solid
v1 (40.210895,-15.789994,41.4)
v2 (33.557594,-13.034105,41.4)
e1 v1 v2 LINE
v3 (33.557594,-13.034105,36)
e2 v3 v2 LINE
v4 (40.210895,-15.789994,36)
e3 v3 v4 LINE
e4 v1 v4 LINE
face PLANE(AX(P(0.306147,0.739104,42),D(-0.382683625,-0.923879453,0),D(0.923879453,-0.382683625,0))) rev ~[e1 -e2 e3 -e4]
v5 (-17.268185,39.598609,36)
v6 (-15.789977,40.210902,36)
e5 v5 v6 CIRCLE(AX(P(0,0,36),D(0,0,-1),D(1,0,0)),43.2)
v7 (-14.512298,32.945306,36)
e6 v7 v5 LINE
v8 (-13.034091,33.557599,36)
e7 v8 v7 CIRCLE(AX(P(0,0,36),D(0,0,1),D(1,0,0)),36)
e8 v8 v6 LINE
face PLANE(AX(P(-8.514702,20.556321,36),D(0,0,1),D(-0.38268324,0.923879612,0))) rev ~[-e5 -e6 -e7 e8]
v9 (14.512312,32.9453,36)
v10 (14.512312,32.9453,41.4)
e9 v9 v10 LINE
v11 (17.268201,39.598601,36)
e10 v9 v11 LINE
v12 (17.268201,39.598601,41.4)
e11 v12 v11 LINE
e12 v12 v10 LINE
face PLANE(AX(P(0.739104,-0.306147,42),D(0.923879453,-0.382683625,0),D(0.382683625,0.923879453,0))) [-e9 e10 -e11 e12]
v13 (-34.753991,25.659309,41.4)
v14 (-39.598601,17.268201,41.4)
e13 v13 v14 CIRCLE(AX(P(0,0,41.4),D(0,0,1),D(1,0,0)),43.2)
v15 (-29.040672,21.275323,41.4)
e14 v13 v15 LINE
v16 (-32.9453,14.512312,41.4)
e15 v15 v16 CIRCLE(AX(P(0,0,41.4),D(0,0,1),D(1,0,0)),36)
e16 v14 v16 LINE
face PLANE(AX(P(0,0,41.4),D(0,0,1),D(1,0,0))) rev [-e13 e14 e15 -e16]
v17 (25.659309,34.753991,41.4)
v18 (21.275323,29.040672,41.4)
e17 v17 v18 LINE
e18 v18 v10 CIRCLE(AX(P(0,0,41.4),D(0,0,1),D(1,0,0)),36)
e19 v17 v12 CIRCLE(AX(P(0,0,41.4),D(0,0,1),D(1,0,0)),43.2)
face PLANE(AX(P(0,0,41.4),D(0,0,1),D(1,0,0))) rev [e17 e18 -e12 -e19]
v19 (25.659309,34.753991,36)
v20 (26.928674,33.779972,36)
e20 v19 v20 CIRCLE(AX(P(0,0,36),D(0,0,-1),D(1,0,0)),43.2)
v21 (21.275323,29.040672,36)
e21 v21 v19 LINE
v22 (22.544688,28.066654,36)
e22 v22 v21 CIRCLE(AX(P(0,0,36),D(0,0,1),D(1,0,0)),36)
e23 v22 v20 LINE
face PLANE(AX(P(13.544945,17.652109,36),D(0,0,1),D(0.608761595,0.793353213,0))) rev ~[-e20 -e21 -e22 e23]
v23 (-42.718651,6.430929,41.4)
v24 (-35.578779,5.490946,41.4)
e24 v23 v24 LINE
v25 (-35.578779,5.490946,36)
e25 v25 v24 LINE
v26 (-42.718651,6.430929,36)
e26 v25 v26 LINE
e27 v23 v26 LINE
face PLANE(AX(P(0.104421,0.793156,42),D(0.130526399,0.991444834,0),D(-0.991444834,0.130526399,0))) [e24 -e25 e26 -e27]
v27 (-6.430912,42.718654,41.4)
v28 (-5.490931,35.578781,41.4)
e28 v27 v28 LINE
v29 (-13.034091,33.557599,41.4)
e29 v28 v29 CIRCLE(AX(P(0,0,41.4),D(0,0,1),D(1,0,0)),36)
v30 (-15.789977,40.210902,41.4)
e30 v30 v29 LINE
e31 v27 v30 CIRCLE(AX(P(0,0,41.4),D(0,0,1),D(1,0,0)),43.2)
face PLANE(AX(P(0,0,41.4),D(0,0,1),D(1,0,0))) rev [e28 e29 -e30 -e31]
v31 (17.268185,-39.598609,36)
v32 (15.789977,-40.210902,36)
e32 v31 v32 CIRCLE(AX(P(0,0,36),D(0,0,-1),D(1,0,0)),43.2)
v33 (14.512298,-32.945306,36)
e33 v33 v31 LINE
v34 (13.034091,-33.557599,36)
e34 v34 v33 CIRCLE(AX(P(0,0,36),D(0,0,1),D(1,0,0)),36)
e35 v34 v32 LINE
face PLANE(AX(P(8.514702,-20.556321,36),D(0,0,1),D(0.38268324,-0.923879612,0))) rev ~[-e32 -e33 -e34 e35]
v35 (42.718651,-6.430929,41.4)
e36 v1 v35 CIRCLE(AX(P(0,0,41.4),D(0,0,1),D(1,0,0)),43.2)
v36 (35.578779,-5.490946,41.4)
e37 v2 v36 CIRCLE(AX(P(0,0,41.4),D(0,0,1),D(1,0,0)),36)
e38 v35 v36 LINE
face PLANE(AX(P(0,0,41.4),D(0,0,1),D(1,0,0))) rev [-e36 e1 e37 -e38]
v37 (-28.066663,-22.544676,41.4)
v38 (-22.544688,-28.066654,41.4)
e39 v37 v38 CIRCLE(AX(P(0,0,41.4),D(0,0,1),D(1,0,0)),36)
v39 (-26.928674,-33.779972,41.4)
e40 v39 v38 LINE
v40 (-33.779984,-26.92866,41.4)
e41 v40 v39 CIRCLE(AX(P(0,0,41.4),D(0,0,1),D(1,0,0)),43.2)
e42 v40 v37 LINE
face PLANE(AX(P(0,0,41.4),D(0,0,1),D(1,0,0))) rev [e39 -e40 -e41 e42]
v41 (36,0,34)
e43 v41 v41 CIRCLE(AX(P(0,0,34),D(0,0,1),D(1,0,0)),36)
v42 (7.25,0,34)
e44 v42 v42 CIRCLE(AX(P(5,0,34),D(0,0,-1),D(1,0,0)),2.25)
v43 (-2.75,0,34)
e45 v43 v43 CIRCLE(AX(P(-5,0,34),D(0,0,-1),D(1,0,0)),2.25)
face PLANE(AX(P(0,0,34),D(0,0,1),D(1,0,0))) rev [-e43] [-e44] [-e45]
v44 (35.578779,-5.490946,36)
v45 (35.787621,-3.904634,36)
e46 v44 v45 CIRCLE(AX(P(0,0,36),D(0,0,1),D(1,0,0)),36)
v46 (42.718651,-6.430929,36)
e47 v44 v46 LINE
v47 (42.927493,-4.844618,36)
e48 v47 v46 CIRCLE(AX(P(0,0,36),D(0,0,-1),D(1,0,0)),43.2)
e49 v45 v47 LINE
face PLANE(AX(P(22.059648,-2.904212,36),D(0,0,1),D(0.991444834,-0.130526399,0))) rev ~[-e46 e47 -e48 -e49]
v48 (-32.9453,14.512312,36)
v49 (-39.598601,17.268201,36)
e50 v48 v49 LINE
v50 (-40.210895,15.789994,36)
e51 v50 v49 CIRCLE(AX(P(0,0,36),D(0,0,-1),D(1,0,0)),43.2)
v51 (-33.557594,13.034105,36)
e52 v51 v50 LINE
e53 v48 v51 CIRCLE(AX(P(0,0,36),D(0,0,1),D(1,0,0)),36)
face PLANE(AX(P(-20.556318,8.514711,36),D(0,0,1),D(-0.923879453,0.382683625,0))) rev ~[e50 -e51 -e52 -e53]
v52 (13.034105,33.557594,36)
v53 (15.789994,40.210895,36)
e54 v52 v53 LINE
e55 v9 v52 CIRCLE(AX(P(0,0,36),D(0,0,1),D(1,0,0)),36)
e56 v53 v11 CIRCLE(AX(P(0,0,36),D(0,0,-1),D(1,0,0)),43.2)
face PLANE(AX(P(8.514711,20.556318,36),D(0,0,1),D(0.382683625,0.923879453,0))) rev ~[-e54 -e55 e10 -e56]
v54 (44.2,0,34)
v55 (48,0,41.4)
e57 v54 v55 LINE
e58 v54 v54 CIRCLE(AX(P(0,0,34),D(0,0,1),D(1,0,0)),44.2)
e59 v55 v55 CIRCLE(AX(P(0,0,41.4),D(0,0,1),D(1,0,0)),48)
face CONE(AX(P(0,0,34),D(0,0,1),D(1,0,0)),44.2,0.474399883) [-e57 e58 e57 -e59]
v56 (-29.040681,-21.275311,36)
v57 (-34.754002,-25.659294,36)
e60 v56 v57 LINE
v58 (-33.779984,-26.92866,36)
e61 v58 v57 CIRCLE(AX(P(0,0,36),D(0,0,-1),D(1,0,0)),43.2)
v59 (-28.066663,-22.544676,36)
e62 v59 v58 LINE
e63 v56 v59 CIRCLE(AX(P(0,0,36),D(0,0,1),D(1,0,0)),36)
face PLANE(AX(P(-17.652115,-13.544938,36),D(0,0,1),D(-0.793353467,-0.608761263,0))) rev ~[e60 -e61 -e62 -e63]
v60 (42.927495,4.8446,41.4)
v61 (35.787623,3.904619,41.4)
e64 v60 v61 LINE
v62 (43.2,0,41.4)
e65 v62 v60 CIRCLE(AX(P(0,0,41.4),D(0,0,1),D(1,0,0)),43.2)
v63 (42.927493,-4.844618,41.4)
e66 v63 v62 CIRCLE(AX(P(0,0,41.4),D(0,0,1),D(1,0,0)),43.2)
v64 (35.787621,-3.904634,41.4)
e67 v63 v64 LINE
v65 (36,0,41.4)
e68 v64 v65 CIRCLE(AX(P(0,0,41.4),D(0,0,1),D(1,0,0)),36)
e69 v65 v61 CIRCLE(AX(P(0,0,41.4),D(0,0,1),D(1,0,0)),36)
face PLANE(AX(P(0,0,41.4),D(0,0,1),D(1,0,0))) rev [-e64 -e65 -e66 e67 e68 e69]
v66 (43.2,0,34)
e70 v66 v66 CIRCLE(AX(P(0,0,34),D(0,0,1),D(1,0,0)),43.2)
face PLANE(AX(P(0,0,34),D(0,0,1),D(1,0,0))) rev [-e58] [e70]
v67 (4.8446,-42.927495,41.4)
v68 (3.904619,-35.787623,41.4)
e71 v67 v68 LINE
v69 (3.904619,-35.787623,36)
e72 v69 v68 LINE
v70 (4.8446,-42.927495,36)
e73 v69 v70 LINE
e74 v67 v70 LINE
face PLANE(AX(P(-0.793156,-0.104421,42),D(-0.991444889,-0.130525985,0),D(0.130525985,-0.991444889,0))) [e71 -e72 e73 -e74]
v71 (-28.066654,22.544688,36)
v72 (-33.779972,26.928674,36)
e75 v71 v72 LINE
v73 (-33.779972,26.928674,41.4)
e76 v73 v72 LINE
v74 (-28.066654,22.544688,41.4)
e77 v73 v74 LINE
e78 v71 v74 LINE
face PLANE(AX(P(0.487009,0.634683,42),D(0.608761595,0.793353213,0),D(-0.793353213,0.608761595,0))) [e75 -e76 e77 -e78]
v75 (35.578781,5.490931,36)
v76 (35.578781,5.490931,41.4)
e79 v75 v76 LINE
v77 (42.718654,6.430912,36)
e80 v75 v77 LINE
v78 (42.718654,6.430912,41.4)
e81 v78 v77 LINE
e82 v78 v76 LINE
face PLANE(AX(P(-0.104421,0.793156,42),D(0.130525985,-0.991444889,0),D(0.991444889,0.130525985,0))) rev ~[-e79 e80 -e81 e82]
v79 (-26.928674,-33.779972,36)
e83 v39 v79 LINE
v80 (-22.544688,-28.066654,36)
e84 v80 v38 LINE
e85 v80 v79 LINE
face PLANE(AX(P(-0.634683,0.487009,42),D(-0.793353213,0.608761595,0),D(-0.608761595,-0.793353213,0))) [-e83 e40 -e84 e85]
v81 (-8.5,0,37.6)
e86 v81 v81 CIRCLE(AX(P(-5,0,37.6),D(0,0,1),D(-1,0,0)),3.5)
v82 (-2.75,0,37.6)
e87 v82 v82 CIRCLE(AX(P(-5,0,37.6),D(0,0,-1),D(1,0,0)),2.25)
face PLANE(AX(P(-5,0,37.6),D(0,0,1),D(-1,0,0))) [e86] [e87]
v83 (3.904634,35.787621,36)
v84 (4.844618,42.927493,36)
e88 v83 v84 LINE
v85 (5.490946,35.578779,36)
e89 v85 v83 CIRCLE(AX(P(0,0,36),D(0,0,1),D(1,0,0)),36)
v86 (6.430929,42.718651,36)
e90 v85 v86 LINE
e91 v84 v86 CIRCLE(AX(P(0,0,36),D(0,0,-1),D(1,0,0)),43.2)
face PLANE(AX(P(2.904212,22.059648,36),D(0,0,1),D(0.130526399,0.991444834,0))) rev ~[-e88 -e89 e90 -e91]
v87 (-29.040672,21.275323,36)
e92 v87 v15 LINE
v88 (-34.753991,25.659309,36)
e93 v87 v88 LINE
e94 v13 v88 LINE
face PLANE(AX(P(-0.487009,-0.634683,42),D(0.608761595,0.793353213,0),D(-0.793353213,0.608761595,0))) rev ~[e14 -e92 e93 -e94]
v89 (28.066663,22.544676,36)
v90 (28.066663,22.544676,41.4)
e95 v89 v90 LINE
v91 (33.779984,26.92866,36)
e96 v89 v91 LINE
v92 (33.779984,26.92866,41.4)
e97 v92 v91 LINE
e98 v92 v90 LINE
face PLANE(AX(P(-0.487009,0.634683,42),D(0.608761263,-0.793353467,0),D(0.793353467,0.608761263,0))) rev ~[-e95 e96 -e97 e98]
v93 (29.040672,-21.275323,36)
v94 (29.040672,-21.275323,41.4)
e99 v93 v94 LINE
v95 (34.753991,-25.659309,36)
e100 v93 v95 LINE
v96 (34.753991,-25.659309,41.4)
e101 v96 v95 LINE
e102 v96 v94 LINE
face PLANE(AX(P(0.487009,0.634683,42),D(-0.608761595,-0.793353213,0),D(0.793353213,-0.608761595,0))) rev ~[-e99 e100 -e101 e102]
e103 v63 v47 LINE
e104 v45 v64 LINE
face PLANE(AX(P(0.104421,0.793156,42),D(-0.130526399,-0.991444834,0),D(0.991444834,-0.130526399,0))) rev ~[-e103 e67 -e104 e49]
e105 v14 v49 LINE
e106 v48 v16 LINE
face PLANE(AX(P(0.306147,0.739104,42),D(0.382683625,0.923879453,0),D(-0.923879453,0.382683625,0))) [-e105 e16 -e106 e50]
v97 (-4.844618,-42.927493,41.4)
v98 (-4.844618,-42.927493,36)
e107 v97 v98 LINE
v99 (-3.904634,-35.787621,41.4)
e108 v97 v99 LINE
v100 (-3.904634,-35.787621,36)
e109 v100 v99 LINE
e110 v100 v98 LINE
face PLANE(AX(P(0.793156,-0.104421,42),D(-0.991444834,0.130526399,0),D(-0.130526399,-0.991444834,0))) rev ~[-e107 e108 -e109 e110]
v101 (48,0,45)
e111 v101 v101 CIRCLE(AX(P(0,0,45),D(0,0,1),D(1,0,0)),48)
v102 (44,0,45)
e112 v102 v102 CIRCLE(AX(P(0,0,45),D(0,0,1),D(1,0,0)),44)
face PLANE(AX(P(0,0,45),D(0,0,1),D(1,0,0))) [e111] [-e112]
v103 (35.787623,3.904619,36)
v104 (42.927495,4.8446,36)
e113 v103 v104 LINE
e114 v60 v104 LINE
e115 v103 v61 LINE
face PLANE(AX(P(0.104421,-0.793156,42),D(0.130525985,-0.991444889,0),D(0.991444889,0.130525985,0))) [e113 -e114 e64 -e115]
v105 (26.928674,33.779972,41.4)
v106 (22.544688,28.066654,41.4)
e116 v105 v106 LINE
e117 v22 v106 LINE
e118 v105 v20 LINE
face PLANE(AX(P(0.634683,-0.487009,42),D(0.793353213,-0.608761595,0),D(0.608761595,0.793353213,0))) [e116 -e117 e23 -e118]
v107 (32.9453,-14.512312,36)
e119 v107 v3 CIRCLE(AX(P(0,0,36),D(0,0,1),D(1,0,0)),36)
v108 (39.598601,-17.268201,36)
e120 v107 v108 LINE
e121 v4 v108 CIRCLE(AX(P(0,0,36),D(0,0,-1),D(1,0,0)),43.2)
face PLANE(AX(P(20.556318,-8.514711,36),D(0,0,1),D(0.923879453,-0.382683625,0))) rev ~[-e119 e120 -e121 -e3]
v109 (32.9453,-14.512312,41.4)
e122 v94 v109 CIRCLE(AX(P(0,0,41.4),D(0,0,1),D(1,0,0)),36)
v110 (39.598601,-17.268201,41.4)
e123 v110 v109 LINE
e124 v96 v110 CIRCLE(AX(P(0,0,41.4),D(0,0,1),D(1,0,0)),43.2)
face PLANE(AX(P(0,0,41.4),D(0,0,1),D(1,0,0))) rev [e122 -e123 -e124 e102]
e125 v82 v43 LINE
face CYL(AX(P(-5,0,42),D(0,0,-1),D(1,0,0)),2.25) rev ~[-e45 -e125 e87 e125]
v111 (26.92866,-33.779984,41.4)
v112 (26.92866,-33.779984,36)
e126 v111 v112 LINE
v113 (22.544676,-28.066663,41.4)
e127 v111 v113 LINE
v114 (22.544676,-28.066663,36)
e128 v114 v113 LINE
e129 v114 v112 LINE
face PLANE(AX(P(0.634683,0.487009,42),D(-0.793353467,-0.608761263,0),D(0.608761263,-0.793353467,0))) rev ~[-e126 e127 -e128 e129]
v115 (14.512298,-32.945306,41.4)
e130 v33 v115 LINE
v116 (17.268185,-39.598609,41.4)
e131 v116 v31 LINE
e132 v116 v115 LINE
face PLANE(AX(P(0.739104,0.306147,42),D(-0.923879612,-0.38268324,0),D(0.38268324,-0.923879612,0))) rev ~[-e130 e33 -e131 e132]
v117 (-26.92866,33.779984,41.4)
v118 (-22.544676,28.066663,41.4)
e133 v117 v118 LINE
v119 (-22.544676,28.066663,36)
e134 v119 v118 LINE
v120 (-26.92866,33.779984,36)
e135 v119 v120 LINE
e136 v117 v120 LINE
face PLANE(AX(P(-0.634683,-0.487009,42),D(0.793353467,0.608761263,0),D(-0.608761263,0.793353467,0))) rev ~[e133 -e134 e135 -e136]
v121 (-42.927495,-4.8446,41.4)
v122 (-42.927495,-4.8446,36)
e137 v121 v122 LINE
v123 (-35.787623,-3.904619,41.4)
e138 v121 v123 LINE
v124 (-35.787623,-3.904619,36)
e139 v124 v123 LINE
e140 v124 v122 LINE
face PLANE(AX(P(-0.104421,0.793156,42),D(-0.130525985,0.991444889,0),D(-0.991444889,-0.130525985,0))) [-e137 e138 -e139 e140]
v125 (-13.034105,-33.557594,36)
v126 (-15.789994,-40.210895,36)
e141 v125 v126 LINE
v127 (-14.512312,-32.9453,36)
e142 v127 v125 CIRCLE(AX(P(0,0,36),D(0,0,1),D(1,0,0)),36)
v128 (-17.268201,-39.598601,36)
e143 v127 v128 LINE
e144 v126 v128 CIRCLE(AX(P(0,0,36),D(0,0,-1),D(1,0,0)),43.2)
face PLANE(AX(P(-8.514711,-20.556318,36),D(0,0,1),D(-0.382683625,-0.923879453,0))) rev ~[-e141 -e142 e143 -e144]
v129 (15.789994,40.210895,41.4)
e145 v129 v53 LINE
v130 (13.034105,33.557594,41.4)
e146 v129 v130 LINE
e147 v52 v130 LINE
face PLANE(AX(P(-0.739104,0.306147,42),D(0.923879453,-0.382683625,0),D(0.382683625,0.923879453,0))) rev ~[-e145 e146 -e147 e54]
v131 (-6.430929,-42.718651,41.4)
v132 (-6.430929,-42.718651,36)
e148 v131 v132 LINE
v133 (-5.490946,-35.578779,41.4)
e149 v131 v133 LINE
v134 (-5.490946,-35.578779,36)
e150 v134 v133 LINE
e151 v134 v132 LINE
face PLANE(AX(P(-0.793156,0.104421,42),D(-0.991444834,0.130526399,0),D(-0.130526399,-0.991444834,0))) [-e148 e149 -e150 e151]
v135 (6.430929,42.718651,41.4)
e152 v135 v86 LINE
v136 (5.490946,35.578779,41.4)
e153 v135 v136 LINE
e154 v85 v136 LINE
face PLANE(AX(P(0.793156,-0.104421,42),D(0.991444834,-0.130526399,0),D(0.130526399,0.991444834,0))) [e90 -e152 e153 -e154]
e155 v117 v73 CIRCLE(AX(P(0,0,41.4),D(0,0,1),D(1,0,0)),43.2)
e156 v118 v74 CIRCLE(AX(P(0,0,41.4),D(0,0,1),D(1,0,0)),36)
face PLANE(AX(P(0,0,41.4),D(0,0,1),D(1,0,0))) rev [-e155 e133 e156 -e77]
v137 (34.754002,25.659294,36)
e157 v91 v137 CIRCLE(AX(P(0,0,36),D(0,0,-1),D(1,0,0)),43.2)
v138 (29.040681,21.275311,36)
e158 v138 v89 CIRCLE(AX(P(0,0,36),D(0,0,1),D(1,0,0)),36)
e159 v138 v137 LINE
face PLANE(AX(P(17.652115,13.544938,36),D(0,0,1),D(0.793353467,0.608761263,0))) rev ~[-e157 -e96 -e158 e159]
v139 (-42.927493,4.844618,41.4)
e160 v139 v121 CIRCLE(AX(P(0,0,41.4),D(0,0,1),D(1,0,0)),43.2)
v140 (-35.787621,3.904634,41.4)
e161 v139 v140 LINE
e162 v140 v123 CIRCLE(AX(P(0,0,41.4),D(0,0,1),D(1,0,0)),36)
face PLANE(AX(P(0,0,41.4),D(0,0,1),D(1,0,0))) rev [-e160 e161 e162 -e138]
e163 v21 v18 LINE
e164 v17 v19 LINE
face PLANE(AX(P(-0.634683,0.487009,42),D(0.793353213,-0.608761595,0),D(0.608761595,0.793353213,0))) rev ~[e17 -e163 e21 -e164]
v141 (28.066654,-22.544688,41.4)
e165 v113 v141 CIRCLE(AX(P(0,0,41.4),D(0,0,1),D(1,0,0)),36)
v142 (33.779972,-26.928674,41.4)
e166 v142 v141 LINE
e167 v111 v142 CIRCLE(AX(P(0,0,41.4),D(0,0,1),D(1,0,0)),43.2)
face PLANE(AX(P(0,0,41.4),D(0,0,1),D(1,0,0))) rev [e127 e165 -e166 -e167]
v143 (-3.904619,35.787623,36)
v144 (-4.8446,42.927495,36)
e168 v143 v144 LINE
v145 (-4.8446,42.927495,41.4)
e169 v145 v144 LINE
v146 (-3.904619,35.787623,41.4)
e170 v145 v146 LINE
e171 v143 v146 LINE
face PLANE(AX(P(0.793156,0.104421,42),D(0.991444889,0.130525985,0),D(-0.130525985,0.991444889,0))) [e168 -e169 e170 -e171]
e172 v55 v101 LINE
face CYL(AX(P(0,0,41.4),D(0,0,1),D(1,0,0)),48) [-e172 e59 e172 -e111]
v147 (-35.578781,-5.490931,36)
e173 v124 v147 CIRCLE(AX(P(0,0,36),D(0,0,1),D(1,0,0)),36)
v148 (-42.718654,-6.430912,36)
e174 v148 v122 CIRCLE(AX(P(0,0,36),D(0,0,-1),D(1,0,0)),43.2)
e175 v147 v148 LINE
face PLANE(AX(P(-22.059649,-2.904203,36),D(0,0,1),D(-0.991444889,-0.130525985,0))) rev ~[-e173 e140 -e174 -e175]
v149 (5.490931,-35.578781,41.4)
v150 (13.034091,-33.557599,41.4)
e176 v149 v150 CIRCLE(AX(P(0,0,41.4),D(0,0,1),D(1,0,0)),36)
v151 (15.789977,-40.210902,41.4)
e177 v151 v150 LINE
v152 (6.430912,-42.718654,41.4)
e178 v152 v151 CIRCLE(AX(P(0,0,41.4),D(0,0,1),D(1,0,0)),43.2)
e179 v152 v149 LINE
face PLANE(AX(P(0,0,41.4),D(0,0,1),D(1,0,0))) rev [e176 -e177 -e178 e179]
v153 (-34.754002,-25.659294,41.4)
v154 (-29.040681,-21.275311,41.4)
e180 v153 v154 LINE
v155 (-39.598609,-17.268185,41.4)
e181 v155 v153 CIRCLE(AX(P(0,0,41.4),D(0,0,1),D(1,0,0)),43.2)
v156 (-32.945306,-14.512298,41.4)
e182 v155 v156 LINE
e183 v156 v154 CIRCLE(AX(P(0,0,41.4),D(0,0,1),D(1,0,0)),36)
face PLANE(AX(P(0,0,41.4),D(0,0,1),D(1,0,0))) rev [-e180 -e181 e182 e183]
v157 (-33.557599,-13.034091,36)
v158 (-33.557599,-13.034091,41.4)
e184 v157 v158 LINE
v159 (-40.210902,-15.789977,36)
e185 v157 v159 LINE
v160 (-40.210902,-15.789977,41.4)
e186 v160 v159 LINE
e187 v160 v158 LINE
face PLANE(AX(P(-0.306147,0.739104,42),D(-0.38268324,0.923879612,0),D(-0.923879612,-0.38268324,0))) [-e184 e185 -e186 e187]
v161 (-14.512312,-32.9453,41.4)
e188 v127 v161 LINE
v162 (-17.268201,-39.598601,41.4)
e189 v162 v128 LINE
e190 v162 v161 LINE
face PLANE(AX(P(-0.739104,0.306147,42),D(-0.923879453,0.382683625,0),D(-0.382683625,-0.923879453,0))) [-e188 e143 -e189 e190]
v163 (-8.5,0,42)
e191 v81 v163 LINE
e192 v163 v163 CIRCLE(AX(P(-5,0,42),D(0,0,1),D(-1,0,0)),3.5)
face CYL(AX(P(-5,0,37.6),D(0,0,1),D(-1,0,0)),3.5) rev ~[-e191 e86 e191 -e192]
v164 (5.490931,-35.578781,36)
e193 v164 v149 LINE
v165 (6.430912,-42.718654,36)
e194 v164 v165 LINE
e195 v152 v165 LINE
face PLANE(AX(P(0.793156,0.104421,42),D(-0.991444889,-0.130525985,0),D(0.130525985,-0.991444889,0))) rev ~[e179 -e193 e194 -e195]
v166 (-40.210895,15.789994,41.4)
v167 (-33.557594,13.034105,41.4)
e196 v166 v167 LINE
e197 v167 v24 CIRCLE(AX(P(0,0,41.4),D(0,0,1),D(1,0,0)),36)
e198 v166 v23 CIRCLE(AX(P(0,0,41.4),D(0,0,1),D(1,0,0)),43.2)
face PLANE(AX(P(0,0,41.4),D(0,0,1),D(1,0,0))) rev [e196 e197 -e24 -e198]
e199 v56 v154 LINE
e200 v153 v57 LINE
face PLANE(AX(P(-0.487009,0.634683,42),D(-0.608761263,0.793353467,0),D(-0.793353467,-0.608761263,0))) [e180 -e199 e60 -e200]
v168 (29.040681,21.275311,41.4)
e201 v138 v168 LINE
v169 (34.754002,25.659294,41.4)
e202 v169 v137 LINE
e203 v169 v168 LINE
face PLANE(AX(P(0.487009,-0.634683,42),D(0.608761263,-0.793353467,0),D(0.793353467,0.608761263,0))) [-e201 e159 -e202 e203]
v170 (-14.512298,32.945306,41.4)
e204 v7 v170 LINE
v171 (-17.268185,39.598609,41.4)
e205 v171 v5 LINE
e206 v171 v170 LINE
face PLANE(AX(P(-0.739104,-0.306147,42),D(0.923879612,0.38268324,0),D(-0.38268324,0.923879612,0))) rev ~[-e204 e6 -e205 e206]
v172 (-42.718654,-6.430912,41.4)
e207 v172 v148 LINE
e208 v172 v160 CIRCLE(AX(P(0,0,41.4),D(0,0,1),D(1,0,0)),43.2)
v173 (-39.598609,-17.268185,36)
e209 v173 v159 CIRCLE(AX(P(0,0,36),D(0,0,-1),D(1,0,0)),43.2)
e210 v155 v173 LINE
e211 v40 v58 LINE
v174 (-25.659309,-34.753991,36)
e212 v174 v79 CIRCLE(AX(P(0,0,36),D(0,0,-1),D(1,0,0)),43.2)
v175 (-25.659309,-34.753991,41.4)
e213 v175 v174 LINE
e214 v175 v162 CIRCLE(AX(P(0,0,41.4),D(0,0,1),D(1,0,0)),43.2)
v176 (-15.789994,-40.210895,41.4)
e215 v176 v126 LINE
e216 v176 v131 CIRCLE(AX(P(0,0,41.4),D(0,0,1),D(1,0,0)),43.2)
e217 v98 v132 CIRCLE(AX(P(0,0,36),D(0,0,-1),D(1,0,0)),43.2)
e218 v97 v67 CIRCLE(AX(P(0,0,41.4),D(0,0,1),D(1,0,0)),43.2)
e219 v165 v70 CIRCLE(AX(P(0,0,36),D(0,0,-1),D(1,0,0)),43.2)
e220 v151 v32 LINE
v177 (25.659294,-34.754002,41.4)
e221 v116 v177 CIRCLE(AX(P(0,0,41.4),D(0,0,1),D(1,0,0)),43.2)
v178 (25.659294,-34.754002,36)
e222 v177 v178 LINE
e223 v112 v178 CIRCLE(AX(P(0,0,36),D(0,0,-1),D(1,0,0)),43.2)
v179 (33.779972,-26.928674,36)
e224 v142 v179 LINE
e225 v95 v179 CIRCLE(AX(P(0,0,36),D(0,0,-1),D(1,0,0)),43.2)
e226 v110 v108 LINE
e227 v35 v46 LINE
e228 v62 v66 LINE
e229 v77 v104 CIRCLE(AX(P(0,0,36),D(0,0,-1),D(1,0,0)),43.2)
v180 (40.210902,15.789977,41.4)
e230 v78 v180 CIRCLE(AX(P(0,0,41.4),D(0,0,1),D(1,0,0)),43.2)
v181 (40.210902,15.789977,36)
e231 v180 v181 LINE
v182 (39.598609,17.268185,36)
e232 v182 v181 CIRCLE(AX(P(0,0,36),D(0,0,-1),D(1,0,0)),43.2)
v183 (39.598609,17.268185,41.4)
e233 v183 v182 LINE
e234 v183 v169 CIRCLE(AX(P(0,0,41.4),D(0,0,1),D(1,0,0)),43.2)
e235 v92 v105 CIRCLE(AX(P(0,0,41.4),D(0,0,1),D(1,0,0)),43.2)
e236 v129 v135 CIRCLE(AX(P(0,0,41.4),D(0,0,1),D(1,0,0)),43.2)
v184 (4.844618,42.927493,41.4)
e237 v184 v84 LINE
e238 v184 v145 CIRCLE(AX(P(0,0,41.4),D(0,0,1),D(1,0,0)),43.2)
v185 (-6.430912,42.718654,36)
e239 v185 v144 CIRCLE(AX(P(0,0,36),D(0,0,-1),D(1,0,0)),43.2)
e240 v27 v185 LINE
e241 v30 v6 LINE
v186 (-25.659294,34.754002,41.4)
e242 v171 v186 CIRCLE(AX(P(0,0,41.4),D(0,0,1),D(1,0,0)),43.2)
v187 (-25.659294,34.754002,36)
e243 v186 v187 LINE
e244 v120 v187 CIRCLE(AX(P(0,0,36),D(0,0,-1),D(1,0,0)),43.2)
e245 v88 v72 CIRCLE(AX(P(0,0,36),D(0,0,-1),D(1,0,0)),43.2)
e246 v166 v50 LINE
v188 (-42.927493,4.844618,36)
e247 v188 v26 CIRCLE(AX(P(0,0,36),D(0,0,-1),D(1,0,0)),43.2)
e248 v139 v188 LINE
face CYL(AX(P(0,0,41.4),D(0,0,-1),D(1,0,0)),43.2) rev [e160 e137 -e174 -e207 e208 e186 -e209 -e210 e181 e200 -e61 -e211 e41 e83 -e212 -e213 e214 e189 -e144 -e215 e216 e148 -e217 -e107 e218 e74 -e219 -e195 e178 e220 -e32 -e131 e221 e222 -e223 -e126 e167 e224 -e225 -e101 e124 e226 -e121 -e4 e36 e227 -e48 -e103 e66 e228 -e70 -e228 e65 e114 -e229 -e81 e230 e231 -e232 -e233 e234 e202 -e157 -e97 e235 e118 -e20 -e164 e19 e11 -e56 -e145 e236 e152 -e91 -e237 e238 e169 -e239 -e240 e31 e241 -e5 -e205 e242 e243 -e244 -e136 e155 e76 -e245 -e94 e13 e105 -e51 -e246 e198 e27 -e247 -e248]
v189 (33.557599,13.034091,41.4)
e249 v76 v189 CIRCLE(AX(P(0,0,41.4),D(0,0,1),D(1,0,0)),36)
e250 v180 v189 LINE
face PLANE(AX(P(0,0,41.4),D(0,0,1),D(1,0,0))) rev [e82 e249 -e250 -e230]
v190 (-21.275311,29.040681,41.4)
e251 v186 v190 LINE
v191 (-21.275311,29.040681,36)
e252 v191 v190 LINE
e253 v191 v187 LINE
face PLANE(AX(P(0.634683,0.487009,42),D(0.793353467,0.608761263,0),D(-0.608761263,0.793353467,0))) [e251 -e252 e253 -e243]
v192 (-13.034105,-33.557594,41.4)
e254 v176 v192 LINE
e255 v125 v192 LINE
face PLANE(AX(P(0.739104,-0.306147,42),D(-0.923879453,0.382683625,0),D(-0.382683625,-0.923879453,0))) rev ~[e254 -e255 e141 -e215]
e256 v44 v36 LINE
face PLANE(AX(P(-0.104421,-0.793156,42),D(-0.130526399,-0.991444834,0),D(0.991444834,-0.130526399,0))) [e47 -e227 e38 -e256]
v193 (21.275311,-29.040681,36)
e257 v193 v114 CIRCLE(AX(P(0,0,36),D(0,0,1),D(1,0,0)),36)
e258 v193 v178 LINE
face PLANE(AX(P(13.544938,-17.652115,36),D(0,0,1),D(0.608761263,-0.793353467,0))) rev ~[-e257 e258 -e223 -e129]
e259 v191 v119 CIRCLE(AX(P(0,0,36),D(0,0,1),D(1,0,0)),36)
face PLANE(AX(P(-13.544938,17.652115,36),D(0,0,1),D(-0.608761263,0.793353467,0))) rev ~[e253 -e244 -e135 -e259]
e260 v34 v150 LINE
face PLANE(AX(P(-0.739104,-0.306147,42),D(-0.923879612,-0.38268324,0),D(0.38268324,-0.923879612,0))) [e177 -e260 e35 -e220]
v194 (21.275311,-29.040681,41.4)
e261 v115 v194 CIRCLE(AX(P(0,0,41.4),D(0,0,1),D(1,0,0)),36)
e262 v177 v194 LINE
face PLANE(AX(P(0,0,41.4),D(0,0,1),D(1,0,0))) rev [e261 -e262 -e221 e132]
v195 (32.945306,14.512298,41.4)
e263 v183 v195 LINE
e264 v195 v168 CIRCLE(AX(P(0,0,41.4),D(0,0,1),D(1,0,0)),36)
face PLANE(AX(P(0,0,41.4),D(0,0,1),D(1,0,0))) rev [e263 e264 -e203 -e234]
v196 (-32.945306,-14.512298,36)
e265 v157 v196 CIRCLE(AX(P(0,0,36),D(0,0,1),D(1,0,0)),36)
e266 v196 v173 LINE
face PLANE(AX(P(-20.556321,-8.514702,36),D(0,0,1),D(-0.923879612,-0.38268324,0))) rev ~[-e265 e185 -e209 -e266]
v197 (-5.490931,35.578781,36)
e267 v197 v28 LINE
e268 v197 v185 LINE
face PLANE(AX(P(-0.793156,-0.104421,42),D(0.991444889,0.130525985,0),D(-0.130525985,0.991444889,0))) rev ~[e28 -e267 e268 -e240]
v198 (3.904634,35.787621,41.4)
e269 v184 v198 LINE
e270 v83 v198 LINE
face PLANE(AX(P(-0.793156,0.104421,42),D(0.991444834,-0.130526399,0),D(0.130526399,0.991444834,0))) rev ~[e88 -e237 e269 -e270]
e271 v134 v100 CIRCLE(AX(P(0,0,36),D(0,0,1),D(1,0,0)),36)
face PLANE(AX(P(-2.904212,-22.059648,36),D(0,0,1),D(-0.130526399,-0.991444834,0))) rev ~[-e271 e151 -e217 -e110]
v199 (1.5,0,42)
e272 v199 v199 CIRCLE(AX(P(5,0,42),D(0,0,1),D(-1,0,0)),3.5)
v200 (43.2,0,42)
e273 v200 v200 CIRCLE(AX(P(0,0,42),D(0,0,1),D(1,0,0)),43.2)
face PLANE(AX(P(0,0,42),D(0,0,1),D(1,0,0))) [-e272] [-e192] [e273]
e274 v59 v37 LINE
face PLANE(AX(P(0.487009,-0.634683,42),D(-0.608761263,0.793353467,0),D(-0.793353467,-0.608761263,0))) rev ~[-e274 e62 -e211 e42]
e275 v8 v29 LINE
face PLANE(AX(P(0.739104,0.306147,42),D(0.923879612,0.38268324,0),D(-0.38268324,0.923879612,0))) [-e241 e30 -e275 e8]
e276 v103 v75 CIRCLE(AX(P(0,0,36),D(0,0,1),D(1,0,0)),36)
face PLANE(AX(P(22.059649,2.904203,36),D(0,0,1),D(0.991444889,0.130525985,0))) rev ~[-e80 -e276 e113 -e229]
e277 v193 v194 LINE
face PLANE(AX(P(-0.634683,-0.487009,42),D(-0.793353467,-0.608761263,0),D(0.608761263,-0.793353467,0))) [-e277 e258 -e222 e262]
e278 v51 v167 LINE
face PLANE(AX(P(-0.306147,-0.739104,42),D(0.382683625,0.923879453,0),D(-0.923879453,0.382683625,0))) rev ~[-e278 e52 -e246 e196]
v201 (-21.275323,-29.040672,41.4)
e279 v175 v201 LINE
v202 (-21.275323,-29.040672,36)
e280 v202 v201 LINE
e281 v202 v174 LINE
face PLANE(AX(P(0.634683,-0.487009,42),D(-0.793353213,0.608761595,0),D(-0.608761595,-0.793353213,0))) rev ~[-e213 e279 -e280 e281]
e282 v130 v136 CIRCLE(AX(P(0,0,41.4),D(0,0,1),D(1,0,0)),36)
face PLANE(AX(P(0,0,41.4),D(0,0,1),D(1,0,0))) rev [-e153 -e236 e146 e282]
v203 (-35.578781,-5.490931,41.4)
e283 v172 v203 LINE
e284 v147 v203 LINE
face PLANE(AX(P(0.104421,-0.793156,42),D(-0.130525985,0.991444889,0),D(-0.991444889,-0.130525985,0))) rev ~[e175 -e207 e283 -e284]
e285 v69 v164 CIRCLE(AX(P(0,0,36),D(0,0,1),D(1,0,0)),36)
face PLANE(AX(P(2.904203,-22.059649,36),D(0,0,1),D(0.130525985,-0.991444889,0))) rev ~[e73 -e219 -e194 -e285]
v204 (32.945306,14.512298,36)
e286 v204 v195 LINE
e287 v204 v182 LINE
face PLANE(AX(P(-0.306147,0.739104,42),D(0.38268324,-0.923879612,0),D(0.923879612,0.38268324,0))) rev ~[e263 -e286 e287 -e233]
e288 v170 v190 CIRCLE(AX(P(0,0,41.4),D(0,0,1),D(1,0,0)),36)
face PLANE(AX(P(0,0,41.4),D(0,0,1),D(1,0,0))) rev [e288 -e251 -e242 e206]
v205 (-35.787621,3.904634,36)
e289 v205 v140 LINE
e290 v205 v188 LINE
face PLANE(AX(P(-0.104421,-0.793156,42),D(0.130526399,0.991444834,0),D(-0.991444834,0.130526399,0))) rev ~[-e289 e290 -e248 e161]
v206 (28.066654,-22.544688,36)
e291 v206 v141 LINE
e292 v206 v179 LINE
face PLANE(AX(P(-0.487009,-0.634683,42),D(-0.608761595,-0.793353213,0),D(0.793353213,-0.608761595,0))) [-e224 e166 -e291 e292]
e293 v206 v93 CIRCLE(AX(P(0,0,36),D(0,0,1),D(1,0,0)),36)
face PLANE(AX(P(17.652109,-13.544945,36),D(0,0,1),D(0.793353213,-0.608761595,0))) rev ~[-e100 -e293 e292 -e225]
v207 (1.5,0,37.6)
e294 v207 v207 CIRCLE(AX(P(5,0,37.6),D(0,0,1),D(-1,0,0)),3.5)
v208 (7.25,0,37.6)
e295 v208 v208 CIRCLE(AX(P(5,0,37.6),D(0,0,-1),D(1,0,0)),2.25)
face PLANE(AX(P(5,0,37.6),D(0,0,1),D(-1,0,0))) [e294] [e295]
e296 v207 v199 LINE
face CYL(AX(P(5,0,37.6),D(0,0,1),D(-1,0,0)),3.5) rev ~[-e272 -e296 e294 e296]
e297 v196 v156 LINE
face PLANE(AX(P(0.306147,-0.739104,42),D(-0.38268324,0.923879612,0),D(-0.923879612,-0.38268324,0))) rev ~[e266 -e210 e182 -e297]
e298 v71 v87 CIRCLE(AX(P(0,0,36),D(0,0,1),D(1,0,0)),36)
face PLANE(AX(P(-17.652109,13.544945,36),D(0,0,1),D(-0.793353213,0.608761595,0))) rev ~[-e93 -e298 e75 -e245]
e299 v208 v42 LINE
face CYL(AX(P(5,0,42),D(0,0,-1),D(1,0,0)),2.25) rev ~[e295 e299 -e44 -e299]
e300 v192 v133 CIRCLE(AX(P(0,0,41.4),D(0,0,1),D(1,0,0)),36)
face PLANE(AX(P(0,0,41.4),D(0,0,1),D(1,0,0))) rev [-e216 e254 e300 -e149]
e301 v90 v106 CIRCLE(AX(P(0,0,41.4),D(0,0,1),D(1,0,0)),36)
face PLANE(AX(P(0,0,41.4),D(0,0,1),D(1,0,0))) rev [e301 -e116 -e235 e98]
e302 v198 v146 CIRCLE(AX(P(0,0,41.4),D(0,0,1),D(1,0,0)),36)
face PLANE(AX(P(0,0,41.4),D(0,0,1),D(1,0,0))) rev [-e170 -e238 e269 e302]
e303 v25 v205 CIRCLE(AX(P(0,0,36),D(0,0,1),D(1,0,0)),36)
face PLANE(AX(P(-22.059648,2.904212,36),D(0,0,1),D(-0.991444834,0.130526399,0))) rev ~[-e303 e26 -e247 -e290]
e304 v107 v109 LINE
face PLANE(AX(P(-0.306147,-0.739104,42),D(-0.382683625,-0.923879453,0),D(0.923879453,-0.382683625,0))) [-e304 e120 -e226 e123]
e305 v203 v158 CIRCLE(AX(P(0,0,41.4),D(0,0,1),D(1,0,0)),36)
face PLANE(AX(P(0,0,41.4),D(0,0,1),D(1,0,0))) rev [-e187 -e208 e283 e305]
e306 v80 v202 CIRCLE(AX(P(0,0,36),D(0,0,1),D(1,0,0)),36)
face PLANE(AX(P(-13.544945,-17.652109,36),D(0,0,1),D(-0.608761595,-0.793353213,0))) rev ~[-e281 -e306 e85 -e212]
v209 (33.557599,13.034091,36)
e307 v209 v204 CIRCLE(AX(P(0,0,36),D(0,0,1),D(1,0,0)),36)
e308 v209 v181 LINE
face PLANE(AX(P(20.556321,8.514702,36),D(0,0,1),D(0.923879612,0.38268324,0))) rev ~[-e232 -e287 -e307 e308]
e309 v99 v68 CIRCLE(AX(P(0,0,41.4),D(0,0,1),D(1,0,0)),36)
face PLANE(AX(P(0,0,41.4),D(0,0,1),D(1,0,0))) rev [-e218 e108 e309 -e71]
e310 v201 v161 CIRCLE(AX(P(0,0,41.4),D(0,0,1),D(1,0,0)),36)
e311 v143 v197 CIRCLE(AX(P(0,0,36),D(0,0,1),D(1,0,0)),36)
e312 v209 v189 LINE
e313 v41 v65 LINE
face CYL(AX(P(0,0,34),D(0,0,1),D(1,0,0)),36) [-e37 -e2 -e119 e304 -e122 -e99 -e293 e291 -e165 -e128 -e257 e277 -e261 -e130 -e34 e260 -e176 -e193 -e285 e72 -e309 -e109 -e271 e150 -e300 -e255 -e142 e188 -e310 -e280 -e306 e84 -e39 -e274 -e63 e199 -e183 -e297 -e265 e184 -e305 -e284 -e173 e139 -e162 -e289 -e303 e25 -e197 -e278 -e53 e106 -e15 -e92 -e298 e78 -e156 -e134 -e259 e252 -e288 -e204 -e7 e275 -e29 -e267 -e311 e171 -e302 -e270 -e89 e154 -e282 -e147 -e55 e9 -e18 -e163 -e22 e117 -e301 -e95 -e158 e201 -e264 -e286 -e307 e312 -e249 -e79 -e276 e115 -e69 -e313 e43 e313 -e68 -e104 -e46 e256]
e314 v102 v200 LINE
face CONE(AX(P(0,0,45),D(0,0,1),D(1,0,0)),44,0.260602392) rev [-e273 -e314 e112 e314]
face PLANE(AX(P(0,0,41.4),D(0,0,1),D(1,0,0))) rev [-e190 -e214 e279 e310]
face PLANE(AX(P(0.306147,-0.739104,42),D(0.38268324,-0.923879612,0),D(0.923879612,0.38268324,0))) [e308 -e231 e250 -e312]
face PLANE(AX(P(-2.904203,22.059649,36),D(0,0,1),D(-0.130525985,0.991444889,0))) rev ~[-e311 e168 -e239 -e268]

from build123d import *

# Parameters (mm, degrees)
SKETCH091_W           = 44.5
SKETCH091_H           = 1.6
PAD034_DEPTH          = 6
POLARPATTERN017_COUNT = 24
HOLE001_D             = 4.5
HOLE001_DEPTH         = 25
HOLE001_CBORE_D       = 7
HOLE001_CBORE_DEPTH   = 4.4


with BuildPart() as part:
    # Sketch089 → Revolution011 (revolve)
    with BuildSketch(Plane.XZ):
        Polygon((0, 34), (36, 34), (36, 41.4), (43.2, 41.4), (43.2, 34), (44.2, 34), (48, 41.4), (48, 45), (44, 45), (43.2, 42), (0, 42), align=None)
    revolve(axis=Axis((0, 0, 0), (0, 0, 1)))

    # Sketch091 → Pad034 (new body)
    with BuildSketch(Plane(origin=(0, 0, 42), x_dir=(0.991445, 0.130526, 0), z_dir=(0, 0, 1))):
        with Locations((22.25, 0)):
            Rectangle(SKETCH091_W, SKETCH091_H)
    pad034 = extrude(amount=-PAD034_DEPTH)

    # PolarPattern017: Pad034 ×24 about axis
    polarpattern017_axis = Axis((0, 0, 42), (0, 0, 1))
    for i in range(1, POLARPATTERN017_COUNT):
        add(pad034.rotate(polarpattern017_axis, i * 360 / POLARPATTERN017_COUNT))

    # Hole001
    with Locations(Plane(origin=(0, 0, 42), x_dir=(-1, 0, 0), z_dir=(0, 0, 1))):
        with Locations((5, 0), (-5, 0)):
            CounterBoreHole(HOLE001_D / 2, HOLE001_CBORE_D / 2, HOLE001_CBORE_DEPTH, depth=HOLE001_DEPTH)


solid = part.part
